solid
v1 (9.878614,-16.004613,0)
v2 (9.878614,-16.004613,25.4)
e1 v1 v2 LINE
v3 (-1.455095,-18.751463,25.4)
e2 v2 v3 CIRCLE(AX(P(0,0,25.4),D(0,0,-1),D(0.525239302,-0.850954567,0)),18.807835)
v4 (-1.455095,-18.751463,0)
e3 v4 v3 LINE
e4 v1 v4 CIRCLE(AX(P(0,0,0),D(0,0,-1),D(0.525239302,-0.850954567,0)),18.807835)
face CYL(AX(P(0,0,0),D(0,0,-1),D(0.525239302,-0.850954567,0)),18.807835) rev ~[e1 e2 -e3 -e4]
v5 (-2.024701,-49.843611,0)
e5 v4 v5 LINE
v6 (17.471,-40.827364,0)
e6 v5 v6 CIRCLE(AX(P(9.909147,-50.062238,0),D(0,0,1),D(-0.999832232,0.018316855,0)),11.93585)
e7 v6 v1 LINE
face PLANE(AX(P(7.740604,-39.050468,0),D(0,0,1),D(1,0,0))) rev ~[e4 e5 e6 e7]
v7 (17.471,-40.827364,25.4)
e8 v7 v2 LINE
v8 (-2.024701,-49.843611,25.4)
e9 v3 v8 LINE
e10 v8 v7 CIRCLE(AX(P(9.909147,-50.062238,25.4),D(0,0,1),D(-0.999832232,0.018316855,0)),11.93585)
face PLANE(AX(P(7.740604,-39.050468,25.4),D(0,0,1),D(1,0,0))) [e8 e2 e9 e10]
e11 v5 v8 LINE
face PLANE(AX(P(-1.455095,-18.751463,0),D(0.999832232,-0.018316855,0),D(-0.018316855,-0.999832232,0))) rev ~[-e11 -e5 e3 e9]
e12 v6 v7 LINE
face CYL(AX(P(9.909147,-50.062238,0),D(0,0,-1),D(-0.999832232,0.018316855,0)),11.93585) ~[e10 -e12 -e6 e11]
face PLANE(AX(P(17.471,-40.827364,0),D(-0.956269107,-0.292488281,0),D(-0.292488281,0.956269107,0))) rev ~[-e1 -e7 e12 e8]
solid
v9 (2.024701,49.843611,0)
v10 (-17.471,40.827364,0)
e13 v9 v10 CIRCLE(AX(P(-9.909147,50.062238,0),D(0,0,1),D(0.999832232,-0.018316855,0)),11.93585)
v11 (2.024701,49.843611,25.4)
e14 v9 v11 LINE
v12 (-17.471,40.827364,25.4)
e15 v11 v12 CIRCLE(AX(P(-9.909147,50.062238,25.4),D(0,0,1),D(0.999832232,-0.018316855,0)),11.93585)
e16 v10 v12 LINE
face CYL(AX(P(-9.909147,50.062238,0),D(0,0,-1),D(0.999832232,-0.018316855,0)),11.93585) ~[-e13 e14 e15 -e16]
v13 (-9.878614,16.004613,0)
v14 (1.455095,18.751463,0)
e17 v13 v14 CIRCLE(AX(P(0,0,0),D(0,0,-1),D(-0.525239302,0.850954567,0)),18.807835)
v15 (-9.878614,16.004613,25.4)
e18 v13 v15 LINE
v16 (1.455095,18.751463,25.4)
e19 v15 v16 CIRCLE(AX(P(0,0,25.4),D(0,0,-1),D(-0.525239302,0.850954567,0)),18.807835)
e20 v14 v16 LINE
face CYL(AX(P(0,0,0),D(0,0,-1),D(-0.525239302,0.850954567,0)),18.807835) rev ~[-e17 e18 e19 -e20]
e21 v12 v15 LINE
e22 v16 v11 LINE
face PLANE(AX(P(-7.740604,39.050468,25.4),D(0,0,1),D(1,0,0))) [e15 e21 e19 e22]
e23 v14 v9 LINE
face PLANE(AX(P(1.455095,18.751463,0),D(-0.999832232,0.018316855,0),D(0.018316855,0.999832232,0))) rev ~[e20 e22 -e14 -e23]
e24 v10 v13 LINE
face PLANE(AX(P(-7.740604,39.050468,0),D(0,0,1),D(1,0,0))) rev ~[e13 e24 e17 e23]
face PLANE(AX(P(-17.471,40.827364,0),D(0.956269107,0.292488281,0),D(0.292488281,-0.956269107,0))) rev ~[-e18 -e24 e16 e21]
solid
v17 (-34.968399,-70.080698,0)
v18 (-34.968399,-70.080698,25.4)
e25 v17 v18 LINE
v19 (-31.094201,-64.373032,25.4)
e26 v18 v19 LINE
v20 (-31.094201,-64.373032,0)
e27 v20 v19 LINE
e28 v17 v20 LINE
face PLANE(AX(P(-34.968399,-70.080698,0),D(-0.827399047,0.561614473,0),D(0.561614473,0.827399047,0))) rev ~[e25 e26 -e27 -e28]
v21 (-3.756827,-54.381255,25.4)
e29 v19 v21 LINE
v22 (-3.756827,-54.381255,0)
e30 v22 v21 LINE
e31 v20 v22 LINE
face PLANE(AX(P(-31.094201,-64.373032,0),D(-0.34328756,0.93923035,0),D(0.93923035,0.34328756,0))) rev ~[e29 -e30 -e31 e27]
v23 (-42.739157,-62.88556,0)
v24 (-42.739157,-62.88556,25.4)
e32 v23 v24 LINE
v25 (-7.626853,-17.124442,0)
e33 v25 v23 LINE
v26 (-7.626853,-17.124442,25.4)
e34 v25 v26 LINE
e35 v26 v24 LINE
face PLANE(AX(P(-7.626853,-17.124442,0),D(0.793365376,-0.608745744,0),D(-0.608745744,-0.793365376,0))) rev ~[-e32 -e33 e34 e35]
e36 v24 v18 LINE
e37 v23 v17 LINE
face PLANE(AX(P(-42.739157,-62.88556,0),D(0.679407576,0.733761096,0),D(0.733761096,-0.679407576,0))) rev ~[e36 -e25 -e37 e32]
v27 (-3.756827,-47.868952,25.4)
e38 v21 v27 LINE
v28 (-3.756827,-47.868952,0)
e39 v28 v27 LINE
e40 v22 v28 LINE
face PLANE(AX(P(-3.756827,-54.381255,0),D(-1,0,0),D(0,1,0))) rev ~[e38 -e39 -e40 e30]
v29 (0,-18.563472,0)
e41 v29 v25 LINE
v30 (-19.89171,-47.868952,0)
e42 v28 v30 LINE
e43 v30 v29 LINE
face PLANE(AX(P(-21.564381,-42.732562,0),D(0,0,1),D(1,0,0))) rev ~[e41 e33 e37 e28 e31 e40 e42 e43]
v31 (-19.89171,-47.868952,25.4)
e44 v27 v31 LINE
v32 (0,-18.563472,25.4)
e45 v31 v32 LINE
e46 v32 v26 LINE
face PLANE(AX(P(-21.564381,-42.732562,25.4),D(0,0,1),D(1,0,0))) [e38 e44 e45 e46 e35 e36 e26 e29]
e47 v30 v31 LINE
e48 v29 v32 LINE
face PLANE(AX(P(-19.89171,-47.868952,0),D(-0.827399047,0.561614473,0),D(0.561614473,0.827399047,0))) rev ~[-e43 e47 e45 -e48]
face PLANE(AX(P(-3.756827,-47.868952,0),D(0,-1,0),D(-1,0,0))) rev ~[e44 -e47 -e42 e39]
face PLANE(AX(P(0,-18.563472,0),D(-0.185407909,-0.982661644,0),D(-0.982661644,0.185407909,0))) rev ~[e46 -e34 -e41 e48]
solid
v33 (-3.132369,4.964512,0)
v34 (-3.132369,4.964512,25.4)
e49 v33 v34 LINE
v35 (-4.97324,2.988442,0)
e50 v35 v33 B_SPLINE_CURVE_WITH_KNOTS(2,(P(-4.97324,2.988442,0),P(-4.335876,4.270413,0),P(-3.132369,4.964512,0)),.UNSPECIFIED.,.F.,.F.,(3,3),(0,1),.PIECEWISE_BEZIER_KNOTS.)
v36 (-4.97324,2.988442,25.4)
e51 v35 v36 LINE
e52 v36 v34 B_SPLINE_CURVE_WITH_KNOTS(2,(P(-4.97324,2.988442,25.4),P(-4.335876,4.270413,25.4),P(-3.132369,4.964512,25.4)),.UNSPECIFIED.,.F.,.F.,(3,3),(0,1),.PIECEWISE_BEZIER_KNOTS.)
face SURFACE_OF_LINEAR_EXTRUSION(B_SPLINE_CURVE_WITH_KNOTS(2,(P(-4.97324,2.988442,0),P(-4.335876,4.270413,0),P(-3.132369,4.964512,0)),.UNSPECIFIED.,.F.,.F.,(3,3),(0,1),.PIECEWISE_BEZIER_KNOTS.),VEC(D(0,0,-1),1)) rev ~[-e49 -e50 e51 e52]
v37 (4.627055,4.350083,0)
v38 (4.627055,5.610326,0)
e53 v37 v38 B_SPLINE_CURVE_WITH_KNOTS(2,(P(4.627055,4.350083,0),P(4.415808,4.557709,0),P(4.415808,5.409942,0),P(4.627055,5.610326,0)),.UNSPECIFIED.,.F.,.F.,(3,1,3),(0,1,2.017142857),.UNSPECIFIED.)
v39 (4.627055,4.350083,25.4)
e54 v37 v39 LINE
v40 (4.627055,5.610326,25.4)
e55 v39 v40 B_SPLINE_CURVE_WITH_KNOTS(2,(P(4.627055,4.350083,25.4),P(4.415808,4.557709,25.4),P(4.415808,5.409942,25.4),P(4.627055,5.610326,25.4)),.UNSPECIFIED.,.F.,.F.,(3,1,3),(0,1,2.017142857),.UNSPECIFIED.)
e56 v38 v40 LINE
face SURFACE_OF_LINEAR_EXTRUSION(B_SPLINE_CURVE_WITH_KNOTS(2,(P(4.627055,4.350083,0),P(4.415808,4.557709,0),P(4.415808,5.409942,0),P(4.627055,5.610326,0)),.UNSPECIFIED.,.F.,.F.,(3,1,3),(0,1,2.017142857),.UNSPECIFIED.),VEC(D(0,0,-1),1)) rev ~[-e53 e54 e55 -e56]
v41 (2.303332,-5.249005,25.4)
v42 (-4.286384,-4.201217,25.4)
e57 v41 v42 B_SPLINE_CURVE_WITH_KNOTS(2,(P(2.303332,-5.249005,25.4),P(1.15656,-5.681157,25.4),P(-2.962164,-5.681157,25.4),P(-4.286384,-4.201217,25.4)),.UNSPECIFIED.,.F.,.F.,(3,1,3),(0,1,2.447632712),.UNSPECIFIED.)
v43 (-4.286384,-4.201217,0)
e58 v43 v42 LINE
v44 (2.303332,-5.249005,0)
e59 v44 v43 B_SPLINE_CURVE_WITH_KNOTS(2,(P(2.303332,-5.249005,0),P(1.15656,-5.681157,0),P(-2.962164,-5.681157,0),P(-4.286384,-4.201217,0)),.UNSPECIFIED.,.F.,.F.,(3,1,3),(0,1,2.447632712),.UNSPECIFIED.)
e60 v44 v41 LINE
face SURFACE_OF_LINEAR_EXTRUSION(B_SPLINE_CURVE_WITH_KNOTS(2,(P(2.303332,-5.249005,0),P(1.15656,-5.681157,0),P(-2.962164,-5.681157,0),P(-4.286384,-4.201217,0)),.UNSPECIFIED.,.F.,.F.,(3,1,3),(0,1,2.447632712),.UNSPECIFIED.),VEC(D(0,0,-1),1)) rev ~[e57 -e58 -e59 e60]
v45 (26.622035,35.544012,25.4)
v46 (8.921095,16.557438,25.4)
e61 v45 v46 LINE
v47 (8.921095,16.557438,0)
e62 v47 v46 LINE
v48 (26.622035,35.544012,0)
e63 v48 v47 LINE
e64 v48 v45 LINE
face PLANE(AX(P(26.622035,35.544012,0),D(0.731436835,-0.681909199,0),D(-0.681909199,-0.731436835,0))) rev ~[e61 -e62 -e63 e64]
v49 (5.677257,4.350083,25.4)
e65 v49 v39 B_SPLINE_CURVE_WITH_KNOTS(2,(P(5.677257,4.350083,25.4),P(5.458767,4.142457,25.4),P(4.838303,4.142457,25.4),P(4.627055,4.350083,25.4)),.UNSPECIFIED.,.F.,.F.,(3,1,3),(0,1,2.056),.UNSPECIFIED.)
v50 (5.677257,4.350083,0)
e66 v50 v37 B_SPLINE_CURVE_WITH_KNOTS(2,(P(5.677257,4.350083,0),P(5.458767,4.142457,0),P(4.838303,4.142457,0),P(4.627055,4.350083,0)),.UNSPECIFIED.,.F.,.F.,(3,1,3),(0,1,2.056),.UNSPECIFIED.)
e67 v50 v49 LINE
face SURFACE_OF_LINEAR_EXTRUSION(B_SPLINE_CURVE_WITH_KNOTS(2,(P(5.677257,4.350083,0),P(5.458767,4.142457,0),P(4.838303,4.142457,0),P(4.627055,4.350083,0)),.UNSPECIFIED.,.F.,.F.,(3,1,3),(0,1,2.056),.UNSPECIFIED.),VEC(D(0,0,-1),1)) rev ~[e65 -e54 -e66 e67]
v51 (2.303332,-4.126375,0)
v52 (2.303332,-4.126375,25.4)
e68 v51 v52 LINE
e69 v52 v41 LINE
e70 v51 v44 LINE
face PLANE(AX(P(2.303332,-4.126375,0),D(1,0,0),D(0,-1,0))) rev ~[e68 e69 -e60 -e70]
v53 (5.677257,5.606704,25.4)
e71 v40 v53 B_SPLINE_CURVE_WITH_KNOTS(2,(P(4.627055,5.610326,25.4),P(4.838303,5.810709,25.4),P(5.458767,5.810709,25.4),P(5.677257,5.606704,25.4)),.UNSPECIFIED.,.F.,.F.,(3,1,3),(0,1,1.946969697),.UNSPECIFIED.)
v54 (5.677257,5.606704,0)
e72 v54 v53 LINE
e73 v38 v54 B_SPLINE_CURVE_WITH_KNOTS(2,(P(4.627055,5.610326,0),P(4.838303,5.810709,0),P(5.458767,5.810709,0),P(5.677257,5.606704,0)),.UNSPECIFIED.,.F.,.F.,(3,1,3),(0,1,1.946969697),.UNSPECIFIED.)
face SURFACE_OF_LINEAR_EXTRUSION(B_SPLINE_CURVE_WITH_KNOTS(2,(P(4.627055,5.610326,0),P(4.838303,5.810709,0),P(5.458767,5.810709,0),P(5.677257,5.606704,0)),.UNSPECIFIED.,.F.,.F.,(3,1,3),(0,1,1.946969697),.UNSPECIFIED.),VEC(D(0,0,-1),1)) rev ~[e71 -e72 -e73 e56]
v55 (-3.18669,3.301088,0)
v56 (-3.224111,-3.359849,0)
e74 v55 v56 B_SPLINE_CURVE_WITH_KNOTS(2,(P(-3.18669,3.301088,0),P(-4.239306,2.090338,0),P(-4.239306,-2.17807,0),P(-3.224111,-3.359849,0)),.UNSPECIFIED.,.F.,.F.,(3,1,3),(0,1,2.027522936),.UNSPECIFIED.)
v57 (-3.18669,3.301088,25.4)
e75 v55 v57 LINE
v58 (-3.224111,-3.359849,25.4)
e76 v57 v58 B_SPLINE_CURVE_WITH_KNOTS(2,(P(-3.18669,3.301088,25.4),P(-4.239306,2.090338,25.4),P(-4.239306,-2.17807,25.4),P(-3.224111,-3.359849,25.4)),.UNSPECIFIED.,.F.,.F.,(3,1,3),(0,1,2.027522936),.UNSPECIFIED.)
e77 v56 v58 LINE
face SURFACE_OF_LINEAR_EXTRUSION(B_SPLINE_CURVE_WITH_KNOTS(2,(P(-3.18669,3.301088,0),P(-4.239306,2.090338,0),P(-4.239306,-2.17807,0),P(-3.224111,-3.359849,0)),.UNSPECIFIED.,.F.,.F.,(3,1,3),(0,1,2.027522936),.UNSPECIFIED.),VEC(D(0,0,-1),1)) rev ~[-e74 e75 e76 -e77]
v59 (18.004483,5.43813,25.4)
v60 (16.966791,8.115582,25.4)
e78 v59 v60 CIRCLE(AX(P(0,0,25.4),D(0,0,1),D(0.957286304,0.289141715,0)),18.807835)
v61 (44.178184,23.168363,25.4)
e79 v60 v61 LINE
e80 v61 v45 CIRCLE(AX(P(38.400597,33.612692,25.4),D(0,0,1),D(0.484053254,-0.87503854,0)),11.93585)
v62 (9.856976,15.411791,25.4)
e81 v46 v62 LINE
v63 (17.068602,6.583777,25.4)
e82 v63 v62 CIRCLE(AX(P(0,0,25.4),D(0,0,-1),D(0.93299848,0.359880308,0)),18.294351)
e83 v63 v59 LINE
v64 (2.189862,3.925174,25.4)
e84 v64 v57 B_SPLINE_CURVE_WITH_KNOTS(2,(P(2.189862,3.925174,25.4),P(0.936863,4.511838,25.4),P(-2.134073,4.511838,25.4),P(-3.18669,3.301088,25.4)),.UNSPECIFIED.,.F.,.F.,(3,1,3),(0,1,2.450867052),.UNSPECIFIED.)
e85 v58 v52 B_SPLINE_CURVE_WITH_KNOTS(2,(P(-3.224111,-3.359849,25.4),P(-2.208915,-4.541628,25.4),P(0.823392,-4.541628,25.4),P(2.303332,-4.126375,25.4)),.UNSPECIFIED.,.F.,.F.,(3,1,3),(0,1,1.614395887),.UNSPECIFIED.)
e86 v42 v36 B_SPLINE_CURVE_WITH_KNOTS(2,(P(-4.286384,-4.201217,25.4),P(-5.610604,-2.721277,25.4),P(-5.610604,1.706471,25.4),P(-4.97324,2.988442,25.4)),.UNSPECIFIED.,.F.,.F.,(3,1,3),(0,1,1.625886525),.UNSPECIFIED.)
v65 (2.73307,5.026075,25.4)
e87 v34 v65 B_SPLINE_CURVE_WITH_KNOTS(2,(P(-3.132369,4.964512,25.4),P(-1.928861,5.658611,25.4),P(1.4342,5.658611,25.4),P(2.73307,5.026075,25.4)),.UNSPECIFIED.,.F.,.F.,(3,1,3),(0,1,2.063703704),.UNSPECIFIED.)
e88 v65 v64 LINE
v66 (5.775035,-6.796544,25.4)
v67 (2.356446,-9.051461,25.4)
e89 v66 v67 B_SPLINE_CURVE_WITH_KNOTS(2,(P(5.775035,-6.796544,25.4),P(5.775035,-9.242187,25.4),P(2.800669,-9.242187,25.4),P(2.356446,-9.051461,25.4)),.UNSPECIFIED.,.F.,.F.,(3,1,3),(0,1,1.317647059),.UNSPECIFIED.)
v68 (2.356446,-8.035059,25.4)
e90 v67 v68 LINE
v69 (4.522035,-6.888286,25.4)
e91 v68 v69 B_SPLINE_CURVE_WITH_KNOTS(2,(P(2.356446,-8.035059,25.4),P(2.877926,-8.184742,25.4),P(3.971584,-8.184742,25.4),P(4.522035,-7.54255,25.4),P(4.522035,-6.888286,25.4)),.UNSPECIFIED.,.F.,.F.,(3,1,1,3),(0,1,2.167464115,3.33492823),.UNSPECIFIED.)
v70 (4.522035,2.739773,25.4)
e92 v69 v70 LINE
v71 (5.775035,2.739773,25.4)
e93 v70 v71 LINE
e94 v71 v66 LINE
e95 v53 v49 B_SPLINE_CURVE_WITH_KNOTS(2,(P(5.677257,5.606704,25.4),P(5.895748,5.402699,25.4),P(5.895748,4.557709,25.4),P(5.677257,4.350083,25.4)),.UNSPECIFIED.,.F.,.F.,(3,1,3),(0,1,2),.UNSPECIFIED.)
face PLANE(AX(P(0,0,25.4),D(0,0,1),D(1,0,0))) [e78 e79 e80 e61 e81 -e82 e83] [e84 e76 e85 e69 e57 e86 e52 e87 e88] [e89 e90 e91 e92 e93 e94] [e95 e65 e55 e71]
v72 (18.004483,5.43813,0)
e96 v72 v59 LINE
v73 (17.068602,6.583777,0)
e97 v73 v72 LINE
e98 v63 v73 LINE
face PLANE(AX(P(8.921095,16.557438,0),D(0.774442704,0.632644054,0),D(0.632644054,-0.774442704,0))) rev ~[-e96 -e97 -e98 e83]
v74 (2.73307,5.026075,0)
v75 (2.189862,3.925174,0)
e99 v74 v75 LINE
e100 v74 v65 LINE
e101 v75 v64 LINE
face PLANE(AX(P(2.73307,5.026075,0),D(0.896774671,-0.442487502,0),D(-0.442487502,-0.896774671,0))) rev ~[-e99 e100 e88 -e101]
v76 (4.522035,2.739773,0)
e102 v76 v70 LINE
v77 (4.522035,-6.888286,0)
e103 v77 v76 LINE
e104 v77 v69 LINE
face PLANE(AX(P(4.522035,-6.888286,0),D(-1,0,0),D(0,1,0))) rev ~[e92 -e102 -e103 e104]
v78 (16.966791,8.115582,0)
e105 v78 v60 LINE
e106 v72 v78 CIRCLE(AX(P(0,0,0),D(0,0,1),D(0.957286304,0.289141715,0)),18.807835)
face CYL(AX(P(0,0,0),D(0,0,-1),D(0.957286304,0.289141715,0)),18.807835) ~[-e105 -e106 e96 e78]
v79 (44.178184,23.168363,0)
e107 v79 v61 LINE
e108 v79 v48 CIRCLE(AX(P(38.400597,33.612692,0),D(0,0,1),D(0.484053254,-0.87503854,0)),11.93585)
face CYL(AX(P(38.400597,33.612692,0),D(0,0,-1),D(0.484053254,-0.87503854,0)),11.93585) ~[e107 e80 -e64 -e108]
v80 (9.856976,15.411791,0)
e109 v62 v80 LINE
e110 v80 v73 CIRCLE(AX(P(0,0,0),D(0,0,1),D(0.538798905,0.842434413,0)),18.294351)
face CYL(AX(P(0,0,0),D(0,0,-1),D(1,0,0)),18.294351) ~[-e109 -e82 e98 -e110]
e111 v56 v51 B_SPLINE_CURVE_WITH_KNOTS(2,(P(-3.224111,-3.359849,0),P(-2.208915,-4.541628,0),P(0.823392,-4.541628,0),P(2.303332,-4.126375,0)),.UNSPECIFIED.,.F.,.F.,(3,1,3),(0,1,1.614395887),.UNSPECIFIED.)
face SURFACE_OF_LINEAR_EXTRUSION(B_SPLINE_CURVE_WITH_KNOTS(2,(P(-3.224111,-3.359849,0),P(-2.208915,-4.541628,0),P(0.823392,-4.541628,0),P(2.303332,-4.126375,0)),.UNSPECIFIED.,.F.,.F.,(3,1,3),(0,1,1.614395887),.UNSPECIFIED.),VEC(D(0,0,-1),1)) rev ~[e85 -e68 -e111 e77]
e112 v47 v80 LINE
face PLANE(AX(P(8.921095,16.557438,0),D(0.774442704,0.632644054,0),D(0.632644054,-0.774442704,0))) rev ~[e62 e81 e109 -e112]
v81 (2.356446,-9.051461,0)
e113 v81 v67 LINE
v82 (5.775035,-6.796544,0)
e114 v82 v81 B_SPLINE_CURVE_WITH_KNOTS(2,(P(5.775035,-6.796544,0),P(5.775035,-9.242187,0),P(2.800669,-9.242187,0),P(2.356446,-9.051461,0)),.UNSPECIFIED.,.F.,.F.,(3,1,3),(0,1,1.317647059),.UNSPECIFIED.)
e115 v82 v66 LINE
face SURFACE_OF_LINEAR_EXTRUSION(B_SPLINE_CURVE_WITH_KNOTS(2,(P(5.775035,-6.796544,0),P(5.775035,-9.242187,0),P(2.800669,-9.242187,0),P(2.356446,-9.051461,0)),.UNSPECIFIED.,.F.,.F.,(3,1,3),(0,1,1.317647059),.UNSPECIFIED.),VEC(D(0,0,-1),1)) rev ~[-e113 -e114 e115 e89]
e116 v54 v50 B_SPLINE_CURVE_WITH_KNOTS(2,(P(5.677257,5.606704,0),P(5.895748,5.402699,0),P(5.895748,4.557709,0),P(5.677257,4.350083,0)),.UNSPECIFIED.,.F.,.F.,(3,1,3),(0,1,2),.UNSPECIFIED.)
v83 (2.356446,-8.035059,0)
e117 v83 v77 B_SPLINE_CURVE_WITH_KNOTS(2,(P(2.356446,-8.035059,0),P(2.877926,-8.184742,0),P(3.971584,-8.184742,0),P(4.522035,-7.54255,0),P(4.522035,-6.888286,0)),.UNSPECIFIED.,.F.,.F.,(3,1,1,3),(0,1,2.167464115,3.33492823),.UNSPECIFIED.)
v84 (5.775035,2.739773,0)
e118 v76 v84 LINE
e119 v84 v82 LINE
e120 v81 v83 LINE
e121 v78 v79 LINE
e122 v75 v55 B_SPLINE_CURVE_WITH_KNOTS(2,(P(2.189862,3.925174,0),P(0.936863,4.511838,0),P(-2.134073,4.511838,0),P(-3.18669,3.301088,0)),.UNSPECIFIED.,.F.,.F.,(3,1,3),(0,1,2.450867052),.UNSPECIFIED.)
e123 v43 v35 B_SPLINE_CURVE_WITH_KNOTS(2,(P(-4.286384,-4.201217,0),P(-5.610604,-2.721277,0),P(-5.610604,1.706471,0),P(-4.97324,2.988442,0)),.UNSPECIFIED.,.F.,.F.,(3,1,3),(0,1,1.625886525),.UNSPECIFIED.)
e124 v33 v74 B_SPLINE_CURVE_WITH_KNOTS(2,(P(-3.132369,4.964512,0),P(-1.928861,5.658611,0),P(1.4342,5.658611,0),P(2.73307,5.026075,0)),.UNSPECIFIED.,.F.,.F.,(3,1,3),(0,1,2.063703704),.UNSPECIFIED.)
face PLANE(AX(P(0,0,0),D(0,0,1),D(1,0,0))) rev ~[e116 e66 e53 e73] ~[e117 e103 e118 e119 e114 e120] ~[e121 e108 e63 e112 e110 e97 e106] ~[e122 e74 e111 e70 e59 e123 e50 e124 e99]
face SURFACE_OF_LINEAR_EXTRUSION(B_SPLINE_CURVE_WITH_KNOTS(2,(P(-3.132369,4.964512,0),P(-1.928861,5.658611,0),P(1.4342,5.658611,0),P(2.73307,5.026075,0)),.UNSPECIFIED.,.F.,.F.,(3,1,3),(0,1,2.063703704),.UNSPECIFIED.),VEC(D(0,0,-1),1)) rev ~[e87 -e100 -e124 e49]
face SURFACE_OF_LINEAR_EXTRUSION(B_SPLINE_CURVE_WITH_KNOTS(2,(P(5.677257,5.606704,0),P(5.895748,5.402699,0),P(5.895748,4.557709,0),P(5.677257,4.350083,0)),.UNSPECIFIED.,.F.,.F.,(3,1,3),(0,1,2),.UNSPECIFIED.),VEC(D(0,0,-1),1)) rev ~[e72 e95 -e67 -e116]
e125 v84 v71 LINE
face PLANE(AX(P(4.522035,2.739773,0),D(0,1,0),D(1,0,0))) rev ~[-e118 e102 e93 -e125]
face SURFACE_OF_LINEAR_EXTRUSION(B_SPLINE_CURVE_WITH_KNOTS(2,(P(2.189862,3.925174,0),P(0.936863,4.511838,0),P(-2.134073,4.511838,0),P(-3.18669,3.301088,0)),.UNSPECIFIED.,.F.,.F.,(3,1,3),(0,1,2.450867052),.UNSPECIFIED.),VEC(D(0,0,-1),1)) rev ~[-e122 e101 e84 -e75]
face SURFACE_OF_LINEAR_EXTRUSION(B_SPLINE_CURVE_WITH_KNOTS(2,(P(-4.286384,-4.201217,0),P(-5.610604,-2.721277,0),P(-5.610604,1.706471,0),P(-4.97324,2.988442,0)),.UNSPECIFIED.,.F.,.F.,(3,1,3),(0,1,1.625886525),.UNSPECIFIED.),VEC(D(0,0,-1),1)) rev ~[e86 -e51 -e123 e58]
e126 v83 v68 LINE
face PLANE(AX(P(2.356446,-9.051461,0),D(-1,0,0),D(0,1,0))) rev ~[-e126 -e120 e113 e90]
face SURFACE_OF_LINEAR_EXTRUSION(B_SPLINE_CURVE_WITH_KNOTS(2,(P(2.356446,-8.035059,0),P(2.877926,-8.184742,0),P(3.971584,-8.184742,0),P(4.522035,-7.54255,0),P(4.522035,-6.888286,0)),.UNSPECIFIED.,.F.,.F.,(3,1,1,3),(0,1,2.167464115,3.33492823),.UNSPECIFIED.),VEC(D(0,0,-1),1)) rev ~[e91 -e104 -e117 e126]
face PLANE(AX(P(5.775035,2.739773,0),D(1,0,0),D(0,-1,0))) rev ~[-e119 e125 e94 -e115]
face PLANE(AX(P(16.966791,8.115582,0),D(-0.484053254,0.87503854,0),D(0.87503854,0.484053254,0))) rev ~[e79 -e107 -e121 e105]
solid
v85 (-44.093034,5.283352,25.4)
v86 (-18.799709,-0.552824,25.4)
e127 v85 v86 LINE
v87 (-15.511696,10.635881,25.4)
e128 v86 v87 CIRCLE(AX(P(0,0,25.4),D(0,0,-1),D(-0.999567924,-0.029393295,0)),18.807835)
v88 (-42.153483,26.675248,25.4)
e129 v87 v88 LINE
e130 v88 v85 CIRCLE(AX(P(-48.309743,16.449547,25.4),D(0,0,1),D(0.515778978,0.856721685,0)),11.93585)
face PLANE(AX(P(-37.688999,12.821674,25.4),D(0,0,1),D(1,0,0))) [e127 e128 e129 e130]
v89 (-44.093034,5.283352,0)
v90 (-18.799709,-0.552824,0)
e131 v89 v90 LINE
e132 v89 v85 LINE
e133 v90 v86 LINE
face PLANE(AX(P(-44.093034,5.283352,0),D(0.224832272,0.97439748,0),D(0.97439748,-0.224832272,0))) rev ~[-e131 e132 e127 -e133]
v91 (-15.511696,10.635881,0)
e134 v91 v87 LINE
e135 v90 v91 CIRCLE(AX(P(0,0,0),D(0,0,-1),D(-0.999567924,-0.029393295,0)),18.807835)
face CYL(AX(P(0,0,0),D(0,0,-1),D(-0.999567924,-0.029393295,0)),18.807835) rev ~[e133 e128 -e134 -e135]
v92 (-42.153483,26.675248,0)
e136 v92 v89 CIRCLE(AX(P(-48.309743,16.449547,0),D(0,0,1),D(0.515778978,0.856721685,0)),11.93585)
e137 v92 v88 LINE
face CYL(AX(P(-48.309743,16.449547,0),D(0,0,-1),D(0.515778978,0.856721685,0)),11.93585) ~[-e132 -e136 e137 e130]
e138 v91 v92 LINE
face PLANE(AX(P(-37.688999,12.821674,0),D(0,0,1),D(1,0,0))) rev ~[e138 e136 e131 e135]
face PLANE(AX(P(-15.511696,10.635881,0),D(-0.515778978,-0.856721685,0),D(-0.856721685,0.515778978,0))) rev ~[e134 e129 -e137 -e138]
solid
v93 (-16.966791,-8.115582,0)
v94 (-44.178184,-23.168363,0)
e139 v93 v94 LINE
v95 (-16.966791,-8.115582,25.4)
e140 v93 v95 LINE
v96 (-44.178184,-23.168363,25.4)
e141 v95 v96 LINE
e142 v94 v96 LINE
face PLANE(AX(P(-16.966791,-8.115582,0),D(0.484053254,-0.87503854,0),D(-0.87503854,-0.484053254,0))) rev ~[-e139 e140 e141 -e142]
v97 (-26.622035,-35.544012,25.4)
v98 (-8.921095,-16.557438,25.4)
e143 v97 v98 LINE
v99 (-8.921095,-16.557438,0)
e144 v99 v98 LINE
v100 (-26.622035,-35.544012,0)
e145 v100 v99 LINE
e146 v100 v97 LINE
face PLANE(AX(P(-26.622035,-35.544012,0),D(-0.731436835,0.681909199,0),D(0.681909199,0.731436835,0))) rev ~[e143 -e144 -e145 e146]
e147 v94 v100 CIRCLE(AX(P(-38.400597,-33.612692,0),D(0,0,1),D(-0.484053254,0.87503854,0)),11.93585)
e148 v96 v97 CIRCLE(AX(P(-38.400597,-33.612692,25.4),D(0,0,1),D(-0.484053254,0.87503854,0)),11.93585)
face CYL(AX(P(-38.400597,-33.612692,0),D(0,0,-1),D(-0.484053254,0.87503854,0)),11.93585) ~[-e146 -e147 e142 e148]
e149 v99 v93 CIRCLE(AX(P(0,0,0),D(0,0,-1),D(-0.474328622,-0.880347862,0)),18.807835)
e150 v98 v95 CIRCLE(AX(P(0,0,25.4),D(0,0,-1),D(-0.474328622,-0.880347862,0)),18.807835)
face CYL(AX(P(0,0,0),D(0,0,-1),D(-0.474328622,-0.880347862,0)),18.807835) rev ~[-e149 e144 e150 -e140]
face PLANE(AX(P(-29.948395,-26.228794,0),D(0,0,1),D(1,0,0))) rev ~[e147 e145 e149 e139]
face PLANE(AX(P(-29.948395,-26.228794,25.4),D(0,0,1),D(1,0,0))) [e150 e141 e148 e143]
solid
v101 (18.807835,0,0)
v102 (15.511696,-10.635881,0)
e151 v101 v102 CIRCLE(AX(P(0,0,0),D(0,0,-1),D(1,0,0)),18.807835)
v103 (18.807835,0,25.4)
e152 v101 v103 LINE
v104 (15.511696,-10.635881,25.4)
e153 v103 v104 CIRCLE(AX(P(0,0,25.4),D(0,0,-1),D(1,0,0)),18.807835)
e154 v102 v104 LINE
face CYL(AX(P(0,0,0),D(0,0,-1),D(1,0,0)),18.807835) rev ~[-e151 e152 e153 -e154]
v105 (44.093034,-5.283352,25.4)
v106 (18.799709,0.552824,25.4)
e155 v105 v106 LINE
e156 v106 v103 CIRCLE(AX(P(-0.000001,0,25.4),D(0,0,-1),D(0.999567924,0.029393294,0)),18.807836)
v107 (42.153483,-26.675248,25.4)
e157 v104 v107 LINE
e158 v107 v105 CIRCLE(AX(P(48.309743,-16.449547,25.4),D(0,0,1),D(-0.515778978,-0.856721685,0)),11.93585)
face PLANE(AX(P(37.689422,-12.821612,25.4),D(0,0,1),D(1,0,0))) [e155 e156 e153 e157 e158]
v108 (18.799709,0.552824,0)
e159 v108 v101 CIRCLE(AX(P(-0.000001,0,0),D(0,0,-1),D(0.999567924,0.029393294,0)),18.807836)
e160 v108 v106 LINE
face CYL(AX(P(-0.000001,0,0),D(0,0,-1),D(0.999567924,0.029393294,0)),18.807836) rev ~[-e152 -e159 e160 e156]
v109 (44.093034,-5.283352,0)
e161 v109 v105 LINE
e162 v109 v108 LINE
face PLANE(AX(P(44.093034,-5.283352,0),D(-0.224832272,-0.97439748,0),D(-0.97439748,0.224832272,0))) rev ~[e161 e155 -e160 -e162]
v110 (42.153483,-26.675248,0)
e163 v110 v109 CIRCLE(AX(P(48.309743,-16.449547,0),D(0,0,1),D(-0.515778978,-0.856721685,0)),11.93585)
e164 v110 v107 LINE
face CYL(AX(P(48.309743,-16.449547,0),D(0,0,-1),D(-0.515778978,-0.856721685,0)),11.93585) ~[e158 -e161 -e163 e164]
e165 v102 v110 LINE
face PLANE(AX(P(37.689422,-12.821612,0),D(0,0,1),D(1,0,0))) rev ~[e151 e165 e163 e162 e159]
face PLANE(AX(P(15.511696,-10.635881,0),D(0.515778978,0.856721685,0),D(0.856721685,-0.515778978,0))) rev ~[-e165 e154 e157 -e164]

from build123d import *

# Parameters (mm, degrees)
F1_DEPTH = 25.4
F2_R     = 18.2943509446
F3_DEPTH = 25.4
F5_DEPTH = 25.4


with BuildPart() as f1:
    # F0 (on Top) → F1 (new body)
    with BuildSketch(Plane.XY):
        with BuildLine():
            ThreePointArc((8.9210946377, 16.5574376809), (13.6147673533, 12.9758538065), (16.9667911656, 8.1155819035))
            Line((16.9667911656, 8.1155819035), (44.1781841218, 23.1683626771))
            ThreePointArc((44.1781841218, 23.1683626771), (45.2775218946, 43.3683275222), (26.6220346093, 35.5440117419))
            Line((26.6220346093, 35.5440117419), (8.9210946377, 16.5574376809))
        make_face()
        with BuildLine():
            Line((8.9210946377, 16.5574376809), (18.0044832363, 5.4381297783))
            ThreePointArc((18.0044832363, 5.4381297783), (17.5368097382, 6.7966886273), (16.9667911656, 8.1155819035))
            ThreePointArc((16.9667911656, 8.1155819035), (13.6147673533, 12.9758538065), (8.9210946377, 16.5574376809))
        make_face()
    extrude(amount=F1_DEPTH)

    # F2 (on Top) → F3 (join)
    with BuildSketch(Plane.XY):
        Circle(F2_R)
        with BuildLine():
            add(Edge.make_bspline(
                [(2.1898622284, 3.9251737702), (0.93686252, 4.5118383735), (-0.3161371884, 4.5118383735)],
                knots=[0, 0, 0, 1, 1, 1], degree=2))
            add(Edge.make_bspline(
                [(-0.3161371884, 4.5118383735), (-2.1340731816, 4.5118383735), (-3.1866895069, 3.3010881736)],
                knots=[0, 0, 0, 1, 1, 1], degree=2))
            add(Edge.make_bspline(
                [(-3.1866895069, 3.3010881736), (-4.2393058323, 2.0903379736), (-4.2393058323, -0.0148946771)],
                knots=[0, 0, 0, 1, 1, 1], degree=2))
            add(Edge.make_bspline(
                [(-4.2393058323, -0.0148946771), (-4.2393058323, -2.1780695109), (-3.2241105002, -3.3598486193)],
                knots=[0, 0, 0, 1, 1, 1], degree=2))
            add(Edge.make_bspline(
                [(-3.2241105002, -3.3598486193), (-2.208915168, -4.5416277277), (-0.3306227342, -4.5416277277)],
                knots=[0, 0, 0, 1, 1, 1], degree=2))
            add(Edge.make_bspline(
                [(-0.3306227342, -4.5416277277), (0.8233924115, -4.5416277277), (2.3033323369, -4.1263754159)],
                knots=[0, 0, 0, 1, 1, 1], degree=2))
            Line((2.3033323369, -4.1263754159), (2.3033323369, -5.2490052124))
            add(Edge.make_bspline(
                [(2.3033323369, -5.2490052124), (1.156559964, -5.6811573277), (-0.526177602, -5.6811573277)],
                knots=[0, 0, 0, 1, 1, 1], degree=2))
            add(Edge.make_bspline(
                [(-0.526177602, -5.6811573277), (-2.9621635476, -5.6811573277), (-4.286383856, -4.2012174023)],
                knots=[0, 0, 0, 1, 1, 1], degree=2))
            add(Edge.make_bspline(
                [(-4.286383856, -4.2012174023), (-5.6106041645, -2.721277477), (-5.6106041645, 0.0020051263)],
                knots=[0, 0, 0, 1, 1, 1], degree=2))
            add(Edge.make_bspline(
                [(-5.6106041645, 0.0020051263), (-5.6106041645, 1.7064710109), (-4.9732401509, 2.9884418109)],
                knots=[0, 0, 0, 1, 1, 1], degree=2))
            add(Edge.make_bspline(
                [(-4.9732401509, 2.9884418109), (-4.3358761374, 4.2704126108), (-3.1323687103, 4.9645116786)],
                knots=[0, 0, 0, 1, 1, 1], degree=2))
            add(Edge.make_bspline(
                [(-3.1323687103, 4.9645116786), (-1.9288612833, 5.6586107463), (-0.2992373851, 5.6586107463)],
                knots=[0, 0, 0, 1, 1, 1], degree=2))
            add(Edge.make_bspline(
                [(-0.2992373851, 5.6586107463), (1.4341995911, 5.6586107463), (2.7330701945, 5.0260752481)],
                knots=[0, 0, 0, 1, 1, 1], degree=2))
            Line((2.7330701945, 5.0260752481), (2.1898622284, 3.9251737702))
        make_face(mode=Mode.SUBTRACT)
        with BuildLine():
            add(Edge.make_bspline(
                [(5.7750348045, -6.7965443513), (5.7750348045, -9.2421873275), (3.5177039232, -9.2421873275)],
                knots=[0, 0, 0, 1, 1, 1], degree=2))
            add(Edge.make_bspline(
                [(3.5177039232, -9.2421873275), (2.800669408, -9.2421873275), (2.3564460046, -9.051460975)],
                knots=[0, 0, 0, 1, 1, 1], degree=2))
            Line((2.3564460046, -9.051460975), (2.3564460046, -8.035058514))
            add(Edge.make_bspline(
                [(2.3564460046, -8.035058514), (2.8779256521, -8.1847424869), (3.3825054961, -8.1847424869)],
                knots=[0, 0, 0, 1, 1, 1], degree=2))
            add(Edge.make_bspline(
                [(3.3825054961, -8.1847424869), (3.9715843571, -8.1847424869), (4.2468097266, -7.8636462225)],
                knots=[0, 0, 0, 1, 1, 1], degree=2))
            add(Edge.make_bspline(
                [(4.2468097266, -7.8636462225), (4.5220350961, -7.5425499581), (4.5220350961, -6.8882861412)],
                knots=[0, 0, 0, 1, 1, 1], degree=2))
            Line((4.5220350961, -6.8882861412), (4.5220350961, 2.7397732753))
            Line((4.5220350961, 2.7397732753), (5.7750348045, 2.7397732753))
            Line((5.7750348045, 2.7397732753), (5.7750348045, -6.7965443513))
        make_face(mode=Mode.SUBTRACT)
        with BuildLine():
            add(Edge.make_bspline(
                [(4.6270553028, 4.3500831125), (4.4158077605, 4.5577092684), (4.4158077605, 4.9802043532)],
                knots=[0, 0, 0, 1, 1, 1], degree=2))
            add(Edge.make_bspline(
                [(4.4158077605, 4.9802043532), (4.4158077605, 5.4099422108), (4.6270553028, 5.6103255938)],
                knots=[0, 0, 0, 1, 1, 1], degree=2))
            add(Edge.make_bspline(
                [(4.6270553028, 5.6103255938), (4.8383028452, 5.8107089768), (5.156984852, 5.8107089768)],
                knots=[0, 0, 0, 1, 1, 1], degree=2))
            add(Edge.make_bspline(
                [(5.156984852, 5.8107089768), (5.4587670553, 5.8107089768), (5.6772573706, 5.6067042074)],
                knots=[0, 0, 0, 1, 1, 1], degree=2))
            add(Edge.make_bspline(
                [(5.6772573706, 5.6067042074), (5.8957476858, 5.4026994379), (5.8957476858, 4.9802043532)],
                knots=[0, 0, 0, 1, 1, 1], degree=2))
            add(Edge.make_bspline(
                [(5.8957476858, 4.9802043532), (5.8957476858, 4.5577092684), (5.6772573706, 4.3500831125)],
                knots=[0, 0, 0, 1, 1, 1], degree=2))
            add(Edge.make_bspline(
                [(5.6772573706, 4.3500831125), (5.4587670553, 4.1424569566), (5.156984852, 4.1424569566)],
                knots=[0, 0, 0, 1, 1, 1], degree=2))
            add(Edge.make_bspline(
                [(5.156984852, 4.1424569566), (4.8383028452, 4.1424569566), (4.6270553028, 4.3500831125)],
                knots=[0, 0, 0, 1, 1, 1], degree=2))
        make_face(mode=Mode.SUBTRACT)
    extrude(amount=F3_DEPTH)


with BuildPart() as f1b:
    # F0 (on Top) → F1, piece 2 (new body)
    with BuildSketch(Plane.XY):
        with BuildLine():
            ThreePointArc((-18.7997089721, -0.5528242546), (-18.0448027088, 5.3028074913), (-15.5116956778, 10.6358812184))
            Line((-15.5116956778, 10.6358812184), (-42.1534827034, 26.675248404))
            ThreePointArc((-42.1534827034, 26.675248404), (-60.1968343012, 17.52732042), (-44.0930344255, 5.2833524012))
            Line((-44.0930344255, 5.2833524012), (-18.7997089721, -0.5528242546))
        make_face()
    extrude(amount=F1_DEPTH)


with BuildPart() as f1c:
    # F0 (on Top) → F1, piece 3 (new body)
    with BuildSketch(Plane.XY):
        with BuildLine():
            Line((-26.6220346093, -35.5440117419), (-8.9210946377, -16.5574376809))
            ThreePointArc((-8.9210946377, -16.5574376809), (-13.6147673533, -12.9758538065), (-16.9667911656, -8.1155819035))
            Line((-16.9667911656, -8.1155819035), (-44.1781841218, -23.1683626771))
            ThreePointArc((-44.1781841218, -23.1683626771), (-45.2775218946, -43.3683275222), (-26.6220346093, -35.5440117419))
        make_face()
    extrude(amount=F1_DEPTH)


with BuildPart() as f1d:
    # F0 (on Top) → F1, piece 4 (new body)
    with BuildSketch(Plane.XY):
        with BuildLine():
            Line((17.4709998162, -40.827364143), (9.8786143344, -16.0046134263))
            ThreePointArc((9.8786143344, -16.0046134263), (4.4300353556, -18.2786612978), (-1.4550954879, -18.7514631219))
            Line((-1.4550954879, -18.7514631219), (-2.0247014185, -49.8436110811))
            ThreePointArc((-2.0247014185, -49.8436110811), (14.9193124066, -60.8956479422), (17.4709998162, -40.827364143))
        make_face()
    extrude(amount=F1_DEPTH)


with BuildPart() as f1e:
    # F0 (on Top) → F1, piece 5 (new body)
    with BuildSketch(Plane.XY):
        with BuildLine():
            ThreePointArc((18.7997089721, 0.5528242546), (18.8058036764, 0.2764419899), (18.8078353909, 0))
            ThreePointArc((18.8078353909, 0), (17.9649115087, -5.5674614121), (15.5116956778, -10.6358812184))
            Line((15.5116956778, -10.6358812184), (42.1534827034, -26.675248404))
            ThreePointArc((42.1534827034, -26.675248404), (60.1968343012, -17.52732042), (44.0930344255, -5.2833524012))
            Line((44.0930344255, -5.2833524012), (18.7997089721, 0.5528242546))
        make_face()
    extrude(amount=F1_DEPTH)


with BuildPart() as f1f:
    # F0 (on Top) → F1, piece 6 (new body)
    with BuildSketch(Plane.XY):
        with BuildLine():
            ThreePointArc((-9.8786143344, 16.0046134263), (-4.4300353556, 18.2786612978), (1.4550954879, 18.7514631219))
            Line((1.4550954879, 18.7514631219), (2.0247014185, 49.8436110811))
            ThreePointArc((2.0247014185, 49.8436110811), (-14.9193124066, 60.8956479422), (-17.4709998162, 40.827364143))
            Line((-17.4709998162, 40.827364143), (-9.8786143344, 16.0046134263))
        make_face()
    extrude(amount=F1_DEPTH)


with BuildPart() as f5:
    # F4 (on Top) → F5 (new body)
    with BuildSketch(Plane.XY):
        Polygon((0, -18.5634717345), (-7.6268534176, -17.1244423836), (-42.7391566336, -62.8855600953), (-34.9683985114, -70.0806975365), (-31.0942010185, -64.3730324578), (-19.8917100438, -47.8689521551), align=None)
        Polygon((-3.7568265107, -47.8689521551), (-19.8917100438, -47.8689521551), (-31.0942010185, -64.3730324578), (-3.7568265107, -54.3812550604), align=None)
    extrude(amount=F5_DEPTH)


solid = Compound([f1.part, f1b.part, f1c.part, f1d.part, f1e.part, f1f.part, f5.part])
